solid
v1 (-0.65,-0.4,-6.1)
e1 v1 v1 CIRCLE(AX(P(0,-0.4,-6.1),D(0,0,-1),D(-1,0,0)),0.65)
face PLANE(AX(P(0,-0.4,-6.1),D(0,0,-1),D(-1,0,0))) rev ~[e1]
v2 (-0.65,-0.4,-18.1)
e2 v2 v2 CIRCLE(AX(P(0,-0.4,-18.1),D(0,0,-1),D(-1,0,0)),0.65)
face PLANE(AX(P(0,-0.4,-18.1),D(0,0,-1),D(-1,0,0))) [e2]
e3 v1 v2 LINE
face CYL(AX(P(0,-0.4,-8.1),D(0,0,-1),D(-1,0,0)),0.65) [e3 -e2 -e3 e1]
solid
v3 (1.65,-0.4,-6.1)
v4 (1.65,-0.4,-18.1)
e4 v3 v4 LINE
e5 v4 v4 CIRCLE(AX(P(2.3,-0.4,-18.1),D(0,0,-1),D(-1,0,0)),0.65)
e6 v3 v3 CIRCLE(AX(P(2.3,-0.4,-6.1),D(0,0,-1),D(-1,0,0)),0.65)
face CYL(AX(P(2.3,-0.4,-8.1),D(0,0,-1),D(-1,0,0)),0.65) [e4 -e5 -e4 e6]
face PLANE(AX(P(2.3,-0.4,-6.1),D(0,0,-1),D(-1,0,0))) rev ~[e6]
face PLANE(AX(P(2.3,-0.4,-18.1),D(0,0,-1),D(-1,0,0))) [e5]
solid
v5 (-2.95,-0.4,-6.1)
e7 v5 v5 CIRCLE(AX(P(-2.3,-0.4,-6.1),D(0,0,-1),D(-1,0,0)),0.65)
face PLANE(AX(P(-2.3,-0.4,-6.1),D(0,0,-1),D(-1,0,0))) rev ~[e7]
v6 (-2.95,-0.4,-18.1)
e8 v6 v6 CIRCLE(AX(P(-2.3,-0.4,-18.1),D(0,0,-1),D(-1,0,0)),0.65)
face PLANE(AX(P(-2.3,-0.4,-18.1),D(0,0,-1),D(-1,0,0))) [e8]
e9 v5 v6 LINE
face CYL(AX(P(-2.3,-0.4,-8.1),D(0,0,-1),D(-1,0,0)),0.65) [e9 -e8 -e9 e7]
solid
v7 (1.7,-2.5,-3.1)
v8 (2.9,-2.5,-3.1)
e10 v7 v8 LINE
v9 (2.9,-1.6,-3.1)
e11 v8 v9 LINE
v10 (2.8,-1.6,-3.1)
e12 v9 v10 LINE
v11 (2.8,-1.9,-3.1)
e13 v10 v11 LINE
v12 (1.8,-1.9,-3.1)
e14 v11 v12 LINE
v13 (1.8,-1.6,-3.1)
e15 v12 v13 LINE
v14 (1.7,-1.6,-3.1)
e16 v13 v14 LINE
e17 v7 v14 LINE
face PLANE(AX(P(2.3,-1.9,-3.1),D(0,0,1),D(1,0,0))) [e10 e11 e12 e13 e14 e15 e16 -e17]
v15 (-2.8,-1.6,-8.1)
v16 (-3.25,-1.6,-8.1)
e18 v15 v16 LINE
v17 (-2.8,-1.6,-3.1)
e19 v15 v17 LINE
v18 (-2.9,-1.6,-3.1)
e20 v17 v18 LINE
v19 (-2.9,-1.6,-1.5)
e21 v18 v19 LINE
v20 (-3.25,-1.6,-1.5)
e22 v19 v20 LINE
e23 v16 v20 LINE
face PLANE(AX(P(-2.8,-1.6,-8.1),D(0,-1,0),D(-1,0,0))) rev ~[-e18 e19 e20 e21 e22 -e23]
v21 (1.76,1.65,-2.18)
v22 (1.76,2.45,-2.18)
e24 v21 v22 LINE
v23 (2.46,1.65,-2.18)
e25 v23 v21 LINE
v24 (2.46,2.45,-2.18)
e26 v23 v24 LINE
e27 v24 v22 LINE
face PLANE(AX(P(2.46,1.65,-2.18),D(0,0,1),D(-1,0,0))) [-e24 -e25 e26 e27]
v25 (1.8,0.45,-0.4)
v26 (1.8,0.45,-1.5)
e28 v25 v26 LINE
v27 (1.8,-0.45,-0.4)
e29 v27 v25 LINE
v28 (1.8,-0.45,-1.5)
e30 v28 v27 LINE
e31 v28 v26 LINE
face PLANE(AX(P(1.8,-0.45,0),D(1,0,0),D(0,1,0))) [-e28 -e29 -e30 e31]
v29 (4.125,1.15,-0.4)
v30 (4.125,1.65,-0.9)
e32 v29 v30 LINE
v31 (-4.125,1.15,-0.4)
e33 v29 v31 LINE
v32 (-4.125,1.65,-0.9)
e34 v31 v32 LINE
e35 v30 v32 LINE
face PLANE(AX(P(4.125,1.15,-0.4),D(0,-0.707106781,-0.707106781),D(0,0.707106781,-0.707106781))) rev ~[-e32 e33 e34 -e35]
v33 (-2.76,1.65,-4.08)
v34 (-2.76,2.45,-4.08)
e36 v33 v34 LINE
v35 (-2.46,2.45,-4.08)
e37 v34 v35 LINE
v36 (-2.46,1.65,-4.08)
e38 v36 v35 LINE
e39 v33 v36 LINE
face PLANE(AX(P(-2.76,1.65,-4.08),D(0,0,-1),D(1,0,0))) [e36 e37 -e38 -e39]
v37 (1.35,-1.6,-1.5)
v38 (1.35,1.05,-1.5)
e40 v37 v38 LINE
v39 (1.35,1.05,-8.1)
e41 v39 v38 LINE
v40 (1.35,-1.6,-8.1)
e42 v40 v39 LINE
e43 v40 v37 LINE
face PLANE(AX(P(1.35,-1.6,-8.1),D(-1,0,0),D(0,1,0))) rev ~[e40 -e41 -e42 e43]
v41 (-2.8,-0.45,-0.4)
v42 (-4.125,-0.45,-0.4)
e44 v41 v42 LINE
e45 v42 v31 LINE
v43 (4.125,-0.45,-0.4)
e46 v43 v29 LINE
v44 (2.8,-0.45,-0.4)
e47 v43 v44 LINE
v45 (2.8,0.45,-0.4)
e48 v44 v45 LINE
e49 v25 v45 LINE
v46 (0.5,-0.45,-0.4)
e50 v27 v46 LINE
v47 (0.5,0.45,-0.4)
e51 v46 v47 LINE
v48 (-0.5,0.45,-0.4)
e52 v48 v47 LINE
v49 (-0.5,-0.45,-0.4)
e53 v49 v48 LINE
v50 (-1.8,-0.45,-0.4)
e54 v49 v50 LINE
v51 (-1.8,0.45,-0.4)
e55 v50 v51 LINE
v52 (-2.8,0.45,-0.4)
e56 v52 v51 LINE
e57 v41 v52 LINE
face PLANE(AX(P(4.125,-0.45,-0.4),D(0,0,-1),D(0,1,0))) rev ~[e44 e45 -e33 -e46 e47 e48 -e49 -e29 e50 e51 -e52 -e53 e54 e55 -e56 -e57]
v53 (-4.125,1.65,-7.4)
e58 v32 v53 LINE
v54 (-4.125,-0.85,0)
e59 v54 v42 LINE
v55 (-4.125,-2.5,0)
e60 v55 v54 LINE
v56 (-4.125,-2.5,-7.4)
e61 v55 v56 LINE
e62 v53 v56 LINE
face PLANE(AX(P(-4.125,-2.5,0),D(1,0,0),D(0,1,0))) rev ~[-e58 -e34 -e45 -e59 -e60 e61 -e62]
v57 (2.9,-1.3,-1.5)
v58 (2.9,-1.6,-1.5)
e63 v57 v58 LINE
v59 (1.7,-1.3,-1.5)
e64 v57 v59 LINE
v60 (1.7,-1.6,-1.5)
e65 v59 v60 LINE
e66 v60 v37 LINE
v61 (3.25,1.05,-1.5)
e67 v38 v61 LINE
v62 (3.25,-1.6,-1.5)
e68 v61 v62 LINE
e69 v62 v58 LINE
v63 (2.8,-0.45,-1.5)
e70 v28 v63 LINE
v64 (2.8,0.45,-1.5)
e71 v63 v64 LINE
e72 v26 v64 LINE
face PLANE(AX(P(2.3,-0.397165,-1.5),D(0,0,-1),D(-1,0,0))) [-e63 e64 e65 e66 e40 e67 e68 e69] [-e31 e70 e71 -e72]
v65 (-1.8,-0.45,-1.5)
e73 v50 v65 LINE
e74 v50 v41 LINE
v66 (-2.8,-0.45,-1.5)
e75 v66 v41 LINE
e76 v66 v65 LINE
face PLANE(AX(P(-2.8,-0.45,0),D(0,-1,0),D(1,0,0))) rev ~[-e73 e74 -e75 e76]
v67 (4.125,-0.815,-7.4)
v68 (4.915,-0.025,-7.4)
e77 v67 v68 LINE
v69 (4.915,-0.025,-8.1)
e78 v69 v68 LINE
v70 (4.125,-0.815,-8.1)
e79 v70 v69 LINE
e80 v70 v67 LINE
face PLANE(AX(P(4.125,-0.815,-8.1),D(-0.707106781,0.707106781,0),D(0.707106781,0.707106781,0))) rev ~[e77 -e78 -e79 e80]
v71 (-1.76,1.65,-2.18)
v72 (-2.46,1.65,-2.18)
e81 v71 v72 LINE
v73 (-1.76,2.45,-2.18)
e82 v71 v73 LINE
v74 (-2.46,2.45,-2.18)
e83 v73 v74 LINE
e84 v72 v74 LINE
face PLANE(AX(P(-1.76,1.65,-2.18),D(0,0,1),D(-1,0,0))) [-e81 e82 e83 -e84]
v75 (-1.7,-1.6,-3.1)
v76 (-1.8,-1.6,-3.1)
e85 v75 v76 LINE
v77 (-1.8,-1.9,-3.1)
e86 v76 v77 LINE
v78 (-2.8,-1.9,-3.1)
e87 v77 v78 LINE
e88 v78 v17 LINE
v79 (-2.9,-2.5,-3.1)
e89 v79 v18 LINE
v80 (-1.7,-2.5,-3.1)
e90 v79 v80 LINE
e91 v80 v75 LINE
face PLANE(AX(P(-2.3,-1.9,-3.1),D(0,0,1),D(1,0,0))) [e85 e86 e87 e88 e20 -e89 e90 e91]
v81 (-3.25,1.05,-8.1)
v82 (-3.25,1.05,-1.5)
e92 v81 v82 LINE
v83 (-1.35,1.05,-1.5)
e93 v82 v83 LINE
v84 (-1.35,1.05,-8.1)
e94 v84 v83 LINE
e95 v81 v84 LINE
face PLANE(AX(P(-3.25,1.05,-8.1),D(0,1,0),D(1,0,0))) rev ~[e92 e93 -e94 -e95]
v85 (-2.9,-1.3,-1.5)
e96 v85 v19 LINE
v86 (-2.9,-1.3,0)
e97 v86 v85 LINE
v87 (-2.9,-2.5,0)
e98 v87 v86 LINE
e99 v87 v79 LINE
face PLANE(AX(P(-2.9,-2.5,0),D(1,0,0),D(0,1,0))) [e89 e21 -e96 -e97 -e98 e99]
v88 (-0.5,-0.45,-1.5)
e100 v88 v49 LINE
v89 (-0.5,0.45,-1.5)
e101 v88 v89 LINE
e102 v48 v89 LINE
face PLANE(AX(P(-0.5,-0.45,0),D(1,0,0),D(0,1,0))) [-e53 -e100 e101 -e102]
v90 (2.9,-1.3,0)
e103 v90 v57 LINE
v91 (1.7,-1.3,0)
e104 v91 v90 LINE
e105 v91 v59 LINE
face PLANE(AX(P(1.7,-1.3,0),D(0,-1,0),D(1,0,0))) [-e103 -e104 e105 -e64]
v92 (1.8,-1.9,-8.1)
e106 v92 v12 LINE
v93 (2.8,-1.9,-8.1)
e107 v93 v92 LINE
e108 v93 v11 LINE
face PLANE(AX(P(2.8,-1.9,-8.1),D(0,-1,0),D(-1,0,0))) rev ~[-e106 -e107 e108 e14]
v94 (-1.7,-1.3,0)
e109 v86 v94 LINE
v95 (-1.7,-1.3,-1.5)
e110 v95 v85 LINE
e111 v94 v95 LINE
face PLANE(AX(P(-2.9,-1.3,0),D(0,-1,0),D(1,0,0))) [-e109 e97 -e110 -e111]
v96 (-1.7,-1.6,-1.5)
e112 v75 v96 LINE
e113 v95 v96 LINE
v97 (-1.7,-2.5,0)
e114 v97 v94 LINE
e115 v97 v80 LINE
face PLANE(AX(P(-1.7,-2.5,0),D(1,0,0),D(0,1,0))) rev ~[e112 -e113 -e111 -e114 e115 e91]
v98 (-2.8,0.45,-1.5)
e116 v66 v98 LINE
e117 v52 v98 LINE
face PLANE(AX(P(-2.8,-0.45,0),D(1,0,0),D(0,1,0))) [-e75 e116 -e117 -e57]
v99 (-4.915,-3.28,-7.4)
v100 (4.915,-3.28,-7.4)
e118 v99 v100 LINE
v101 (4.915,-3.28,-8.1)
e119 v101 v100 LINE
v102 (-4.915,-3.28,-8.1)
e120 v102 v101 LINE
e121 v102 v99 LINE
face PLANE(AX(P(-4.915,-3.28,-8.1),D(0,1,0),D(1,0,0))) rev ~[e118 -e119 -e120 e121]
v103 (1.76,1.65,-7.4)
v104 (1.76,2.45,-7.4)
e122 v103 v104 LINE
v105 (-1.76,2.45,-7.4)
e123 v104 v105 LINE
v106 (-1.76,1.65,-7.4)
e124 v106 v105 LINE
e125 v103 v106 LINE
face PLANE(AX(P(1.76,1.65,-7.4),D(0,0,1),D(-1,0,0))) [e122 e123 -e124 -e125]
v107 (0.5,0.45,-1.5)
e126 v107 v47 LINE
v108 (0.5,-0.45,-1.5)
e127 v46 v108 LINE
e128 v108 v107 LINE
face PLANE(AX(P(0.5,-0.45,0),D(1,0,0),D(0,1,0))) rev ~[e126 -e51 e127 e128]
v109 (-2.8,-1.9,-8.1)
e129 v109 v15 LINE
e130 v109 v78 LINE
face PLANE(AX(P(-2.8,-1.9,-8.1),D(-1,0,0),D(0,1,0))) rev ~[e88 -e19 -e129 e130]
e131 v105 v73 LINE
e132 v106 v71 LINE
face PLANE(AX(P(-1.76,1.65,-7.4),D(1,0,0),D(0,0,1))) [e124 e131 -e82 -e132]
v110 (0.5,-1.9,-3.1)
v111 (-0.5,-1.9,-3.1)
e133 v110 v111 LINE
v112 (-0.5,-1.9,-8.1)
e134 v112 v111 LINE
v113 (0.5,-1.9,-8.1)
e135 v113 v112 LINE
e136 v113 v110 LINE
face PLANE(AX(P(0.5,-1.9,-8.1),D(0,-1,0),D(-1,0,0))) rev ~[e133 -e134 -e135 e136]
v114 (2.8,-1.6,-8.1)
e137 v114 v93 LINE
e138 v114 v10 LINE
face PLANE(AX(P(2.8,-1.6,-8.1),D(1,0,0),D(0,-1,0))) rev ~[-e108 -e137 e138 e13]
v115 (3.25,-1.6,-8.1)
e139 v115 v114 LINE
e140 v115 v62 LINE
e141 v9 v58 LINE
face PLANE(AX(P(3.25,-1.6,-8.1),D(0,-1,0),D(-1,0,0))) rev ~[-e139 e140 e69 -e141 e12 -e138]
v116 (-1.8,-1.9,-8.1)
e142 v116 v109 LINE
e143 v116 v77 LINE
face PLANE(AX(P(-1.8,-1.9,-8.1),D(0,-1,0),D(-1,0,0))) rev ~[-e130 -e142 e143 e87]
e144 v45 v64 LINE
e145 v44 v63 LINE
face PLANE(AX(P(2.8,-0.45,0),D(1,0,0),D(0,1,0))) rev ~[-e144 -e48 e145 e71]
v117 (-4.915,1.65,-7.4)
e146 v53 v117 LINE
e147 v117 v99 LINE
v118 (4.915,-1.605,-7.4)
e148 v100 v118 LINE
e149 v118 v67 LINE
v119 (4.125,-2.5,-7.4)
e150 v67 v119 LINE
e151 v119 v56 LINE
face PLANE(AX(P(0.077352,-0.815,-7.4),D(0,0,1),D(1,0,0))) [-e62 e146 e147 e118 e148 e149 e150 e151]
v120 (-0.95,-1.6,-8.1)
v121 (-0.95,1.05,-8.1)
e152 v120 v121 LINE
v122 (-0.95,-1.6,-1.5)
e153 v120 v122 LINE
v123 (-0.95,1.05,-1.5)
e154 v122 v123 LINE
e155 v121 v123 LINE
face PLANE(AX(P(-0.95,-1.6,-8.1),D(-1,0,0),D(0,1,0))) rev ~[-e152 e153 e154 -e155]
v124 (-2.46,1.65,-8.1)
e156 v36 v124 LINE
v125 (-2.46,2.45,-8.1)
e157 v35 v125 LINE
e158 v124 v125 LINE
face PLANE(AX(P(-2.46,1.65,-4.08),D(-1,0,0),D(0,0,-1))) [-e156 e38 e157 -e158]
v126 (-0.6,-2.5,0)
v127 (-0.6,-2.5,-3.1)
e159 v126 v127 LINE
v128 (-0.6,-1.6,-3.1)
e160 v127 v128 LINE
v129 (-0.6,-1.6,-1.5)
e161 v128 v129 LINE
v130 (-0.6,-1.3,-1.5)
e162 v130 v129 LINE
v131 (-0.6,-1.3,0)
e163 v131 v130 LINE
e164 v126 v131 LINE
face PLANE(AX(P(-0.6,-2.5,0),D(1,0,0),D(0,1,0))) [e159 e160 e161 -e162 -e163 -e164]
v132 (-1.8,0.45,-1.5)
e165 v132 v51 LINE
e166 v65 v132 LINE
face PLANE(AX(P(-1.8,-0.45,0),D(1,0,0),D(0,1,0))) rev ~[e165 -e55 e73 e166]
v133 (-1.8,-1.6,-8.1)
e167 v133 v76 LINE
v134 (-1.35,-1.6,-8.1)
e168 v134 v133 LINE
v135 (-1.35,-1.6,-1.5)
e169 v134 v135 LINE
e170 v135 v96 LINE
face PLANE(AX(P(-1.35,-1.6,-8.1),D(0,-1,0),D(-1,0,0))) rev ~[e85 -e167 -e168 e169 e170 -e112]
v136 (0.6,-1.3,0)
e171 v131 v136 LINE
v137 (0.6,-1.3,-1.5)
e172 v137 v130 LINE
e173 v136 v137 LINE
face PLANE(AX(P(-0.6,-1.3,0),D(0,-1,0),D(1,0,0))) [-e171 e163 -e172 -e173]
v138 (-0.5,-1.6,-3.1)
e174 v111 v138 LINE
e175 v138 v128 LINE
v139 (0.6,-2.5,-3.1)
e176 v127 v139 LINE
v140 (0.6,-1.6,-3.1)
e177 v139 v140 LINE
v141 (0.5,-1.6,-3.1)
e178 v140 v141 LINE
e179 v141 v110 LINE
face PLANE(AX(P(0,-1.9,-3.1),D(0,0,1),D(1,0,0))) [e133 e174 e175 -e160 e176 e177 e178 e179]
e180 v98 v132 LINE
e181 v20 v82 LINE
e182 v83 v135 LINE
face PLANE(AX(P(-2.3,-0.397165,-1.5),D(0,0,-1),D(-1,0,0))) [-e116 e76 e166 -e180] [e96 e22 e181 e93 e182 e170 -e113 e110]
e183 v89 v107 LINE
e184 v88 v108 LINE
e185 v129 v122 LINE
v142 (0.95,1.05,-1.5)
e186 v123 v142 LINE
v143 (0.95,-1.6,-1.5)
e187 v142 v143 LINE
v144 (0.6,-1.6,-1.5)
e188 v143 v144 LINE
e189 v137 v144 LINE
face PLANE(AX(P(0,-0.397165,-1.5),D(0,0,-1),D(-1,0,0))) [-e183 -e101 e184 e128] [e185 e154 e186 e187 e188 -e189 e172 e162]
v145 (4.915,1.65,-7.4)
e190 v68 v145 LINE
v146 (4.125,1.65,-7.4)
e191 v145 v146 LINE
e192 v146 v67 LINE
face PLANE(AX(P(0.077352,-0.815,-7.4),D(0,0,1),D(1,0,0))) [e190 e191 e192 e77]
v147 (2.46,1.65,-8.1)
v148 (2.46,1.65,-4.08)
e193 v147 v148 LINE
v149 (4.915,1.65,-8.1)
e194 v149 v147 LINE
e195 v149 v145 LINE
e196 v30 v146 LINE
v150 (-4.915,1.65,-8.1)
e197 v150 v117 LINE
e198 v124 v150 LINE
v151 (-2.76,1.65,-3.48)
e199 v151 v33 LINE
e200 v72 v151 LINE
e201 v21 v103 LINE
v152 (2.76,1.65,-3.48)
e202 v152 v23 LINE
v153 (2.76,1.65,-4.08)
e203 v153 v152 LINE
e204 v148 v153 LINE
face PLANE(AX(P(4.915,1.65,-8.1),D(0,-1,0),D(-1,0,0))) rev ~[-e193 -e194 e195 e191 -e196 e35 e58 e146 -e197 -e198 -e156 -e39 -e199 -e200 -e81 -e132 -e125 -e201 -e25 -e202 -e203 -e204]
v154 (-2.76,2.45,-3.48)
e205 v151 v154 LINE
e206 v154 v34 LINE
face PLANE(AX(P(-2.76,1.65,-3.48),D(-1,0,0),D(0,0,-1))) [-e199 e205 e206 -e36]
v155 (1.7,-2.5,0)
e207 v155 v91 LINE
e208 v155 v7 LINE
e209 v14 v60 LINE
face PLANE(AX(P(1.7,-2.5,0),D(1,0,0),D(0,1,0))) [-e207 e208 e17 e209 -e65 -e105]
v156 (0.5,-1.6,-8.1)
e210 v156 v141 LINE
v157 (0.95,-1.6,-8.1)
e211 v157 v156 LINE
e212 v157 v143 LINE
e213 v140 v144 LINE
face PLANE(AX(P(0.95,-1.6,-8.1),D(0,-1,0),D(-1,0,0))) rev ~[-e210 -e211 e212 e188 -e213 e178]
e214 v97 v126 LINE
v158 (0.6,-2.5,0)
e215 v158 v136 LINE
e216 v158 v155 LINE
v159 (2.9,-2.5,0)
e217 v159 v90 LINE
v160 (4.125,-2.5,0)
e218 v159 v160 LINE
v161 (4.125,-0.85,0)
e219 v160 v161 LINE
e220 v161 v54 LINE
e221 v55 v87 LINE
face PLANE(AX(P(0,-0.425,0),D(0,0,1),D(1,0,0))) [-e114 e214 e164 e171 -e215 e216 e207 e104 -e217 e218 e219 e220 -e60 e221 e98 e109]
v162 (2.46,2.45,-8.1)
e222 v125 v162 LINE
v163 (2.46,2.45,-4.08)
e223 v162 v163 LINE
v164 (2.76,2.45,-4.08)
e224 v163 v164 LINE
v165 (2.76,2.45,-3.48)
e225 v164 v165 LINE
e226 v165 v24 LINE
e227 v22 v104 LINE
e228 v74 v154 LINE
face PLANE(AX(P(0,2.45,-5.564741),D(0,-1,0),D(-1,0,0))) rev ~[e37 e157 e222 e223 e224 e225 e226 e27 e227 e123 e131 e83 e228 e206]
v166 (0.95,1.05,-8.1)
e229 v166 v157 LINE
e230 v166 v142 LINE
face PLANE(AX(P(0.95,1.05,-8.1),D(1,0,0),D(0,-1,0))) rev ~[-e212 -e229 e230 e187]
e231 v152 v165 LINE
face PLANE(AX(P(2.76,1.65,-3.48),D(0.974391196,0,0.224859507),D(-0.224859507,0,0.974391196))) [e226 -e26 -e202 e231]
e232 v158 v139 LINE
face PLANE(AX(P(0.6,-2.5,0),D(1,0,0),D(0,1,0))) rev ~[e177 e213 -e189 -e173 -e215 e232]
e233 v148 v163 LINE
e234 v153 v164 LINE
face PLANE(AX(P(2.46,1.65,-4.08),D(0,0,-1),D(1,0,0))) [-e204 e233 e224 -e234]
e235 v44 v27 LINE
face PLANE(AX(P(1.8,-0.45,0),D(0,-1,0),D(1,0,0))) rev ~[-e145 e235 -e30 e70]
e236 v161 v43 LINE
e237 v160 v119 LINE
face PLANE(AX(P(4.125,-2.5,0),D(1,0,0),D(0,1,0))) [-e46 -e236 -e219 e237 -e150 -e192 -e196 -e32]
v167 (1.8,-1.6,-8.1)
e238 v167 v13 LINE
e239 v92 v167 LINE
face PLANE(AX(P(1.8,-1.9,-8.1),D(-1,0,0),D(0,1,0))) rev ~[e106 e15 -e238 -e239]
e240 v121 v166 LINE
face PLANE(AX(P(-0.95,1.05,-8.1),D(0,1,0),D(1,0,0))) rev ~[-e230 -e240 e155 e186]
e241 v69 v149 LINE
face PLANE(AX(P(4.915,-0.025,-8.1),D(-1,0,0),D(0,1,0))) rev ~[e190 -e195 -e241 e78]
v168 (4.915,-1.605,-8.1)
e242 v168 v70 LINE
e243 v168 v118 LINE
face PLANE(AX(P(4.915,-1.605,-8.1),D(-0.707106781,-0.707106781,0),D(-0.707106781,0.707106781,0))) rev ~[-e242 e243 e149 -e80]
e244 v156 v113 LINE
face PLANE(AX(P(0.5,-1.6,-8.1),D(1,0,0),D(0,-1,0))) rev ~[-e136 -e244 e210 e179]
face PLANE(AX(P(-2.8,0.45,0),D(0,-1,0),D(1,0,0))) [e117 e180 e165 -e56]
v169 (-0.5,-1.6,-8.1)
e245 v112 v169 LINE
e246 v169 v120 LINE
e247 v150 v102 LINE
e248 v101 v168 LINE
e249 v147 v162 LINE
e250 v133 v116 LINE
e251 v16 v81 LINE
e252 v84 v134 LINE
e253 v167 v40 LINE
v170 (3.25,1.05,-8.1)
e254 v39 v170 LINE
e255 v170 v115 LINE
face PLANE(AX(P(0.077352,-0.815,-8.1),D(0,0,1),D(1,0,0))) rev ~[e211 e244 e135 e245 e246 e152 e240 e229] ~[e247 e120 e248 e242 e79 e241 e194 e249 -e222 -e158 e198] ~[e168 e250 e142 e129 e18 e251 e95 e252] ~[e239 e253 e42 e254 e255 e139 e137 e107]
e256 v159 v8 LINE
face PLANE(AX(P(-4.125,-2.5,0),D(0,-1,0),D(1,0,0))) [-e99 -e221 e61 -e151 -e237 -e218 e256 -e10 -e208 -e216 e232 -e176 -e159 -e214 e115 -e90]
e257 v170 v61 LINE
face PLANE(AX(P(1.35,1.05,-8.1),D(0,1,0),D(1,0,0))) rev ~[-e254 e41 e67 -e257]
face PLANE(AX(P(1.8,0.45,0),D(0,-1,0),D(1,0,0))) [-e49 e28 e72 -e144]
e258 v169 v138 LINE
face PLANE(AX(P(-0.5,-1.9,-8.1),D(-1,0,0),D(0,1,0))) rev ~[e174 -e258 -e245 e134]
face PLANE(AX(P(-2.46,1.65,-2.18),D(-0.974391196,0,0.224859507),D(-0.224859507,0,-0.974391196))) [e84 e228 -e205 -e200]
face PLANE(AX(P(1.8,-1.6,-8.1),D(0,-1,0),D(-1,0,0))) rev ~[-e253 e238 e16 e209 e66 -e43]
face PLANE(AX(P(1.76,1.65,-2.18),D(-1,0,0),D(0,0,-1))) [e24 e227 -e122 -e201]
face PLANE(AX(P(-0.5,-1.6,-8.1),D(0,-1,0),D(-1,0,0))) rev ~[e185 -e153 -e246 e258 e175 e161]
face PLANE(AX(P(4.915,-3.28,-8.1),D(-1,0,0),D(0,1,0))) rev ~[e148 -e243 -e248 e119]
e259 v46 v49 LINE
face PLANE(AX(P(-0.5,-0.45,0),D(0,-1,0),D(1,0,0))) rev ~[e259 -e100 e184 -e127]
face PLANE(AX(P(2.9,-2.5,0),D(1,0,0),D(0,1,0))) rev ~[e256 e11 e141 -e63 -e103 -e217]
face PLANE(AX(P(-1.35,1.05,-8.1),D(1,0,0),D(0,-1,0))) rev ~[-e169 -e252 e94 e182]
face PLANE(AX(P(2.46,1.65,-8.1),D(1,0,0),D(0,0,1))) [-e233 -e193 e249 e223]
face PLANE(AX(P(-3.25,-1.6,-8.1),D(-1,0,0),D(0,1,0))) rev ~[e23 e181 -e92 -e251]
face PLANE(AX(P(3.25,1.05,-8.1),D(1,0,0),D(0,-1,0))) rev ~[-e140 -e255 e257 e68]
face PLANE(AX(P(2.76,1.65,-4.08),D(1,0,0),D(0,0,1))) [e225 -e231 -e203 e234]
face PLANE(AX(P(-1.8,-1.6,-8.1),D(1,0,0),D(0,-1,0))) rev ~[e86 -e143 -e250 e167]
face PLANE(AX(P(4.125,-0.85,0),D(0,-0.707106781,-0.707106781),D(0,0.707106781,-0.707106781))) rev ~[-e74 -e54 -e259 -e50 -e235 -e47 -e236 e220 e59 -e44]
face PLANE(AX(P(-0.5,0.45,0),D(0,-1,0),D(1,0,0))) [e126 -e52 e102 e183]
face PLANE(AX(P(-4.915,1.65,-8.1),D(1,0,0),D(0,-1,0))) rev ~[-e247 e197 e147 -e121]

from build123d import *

# Parameters (mm, degrees)
ESQUISSE1_W               = 8.25
ESQUISSE1_H               = 4.15
ESQUISSE1_W_2             = 1
ESQUISSE1_H_2             = 0.9
BOSS_EXTRU_1_DEPTH        = 8.1
ESQUISSE2_W               = 5.6
ESQUISSE2_H               = 0.9
BOSS_EXTRU_2_DEPTH        = 0.7
ENL_V_MAT_EXTRU_1_DEPTH   = 6.6
ENL_V_MAT_EXTRU_2_DEPTH   = 10.04
ESQUISSE6_W               = 1.2
ESQUISSE6_H               = 1.2
ENL_V_MAT_EXTRU_3_DEPTH   = 3.1
BOSS_EXTRU_3_DEPTH        = 0.8
ESQUISSE8_R               = 0.65
BOSS_EXTRU_4_DEPTH        = 10
BOSS_EXTRU_4_DEPTH_BACK   = 2
BOSS_EXTRU_4_2_DEPTH      = 10
BOSS_EXTRU_4_2_DEPTH_BACK = 2
BOSS_EXTRU_4_3_DEPTH      = 10
BOSS_EXTRU_4_3_DEPTH_BACK = 2


with BuildPart() as part:
    # Esquisse1 → Boss.-Extru.1 (new body)
    with BuildSketch(Plane.XY):
        with Locations((0, -0.425)):
            Rectangle(ESQUISSE1_W, ESQUISSE1_H)
        Rectangle(ESQUISSE1_W_2, ESQUISSE1_H_2, mode=Mode.SUBTRACT)
        with Locations((-2.3, 0)):
            Rectangle(ESQUISSE1_W_2, ESQUISSE1_H_2, mode=Mode.SUBTRACT)
        with Locations((2.3, 0)):
            Rectangle(ESQUISSE1_W_2, ESQUISSE1_H_2, mode=Mode.SUBTRACT)
    extrude(amount=-BOSS_EXTRU_1_DEPTH)

    # Esquisse2 → Boss.-Extru.2 (add)
    with BuildSketch(Plane(origin=(0, 0, -8.1), x_dir=(-1, 0, 0), z_dir=(0, 0, -1))):
        Polygon((-4.915, 1.65), (4.915, 1.65), (4.915, -3.28), (-4.915, -3.28), (-4.915, -1.605), (-4.125, -0.815), (-4.915, -0.025), align=None)
        Rectangle(ESQUISSE2_W, ESQUISSE2_H, mode=Mode.SUBTRACT)
    extrude(amount=-BOSS_EXTRU_2_DEPTH)

    # Esquisse3 → Enlèv. mat.-Extru.1 (cut)
    with BuildSketch(Plane(origin=(0, 0, -8.1), x_dir=(-1, 0, 0), z_dir=(0, 0, -1))):
        Polygon((0.5, -1.6), (0.95, -1.6), (0.95, 1.05), (-0.95, 1.05), (-0.95, -1.6), (-0.5, -1.6), (-0.5, -1.9), (0.5, -1.9), align=None)
        Polygon((-1.8, -1.6), (-1.35, -1.6), (-1.35, 1.05), (-3.25, 1.05), (-3.25, -1.6), (-2.8, -1.6), (-2.8, -1.9), (-1.8, -1.9), align=None)
        Polygon((2.8, -1.6), (3.25, -1.6), (3.25, 1.05), (1.35, 1.05), (1.35, -1.6), (1.8, -1.6), (1.8, -1.9), (2.8, -1.9), align=None)
    extrude(amount=-ENL_V_MAT_EXTRU_1_DEPTH, mode=Mode.SUBTRACT)

    # Esquisse4 → Enlèv. mat.-Extru.2 (cut, through all)
    with BuildSketch(Plane(origin=(4.125, 0, 0), x_dir=(0, 0, -1), z_dir=(1, 0, 0))):
        Polygon((0, -0.85), (0.4, -0.45), (0.4, 1.15), (0.9, 1.65), (0, 1.65), align=None)
    extrude(amount=-ENL_V_MAT_EXTRU_2_DEPTH, mode=Mode.SUBTRACT)

    # Esquisse6 → Enlèv. mat.-Extru.3 (cut)
    with BuildSketch(Plane.XY):
        with Locations((-2.3, -1.9)):
            Rectangle(ESQUISSE6_W, ESQUISSE6_H)
        with Locations((0, -1.9)):
            Rectangle(ESQUISSE6_W, ESQUISSE6_H)
        with Locations((2.3, -1.9)):
            Rectangle(ESQUISSE6_W, ESQUISSE6_H)
    extrude(amount=-ENL_V_MAT_EXTRU_3_DEPTH, mode=Mode.SUBTRACT)

    # Esquisse7 → Boss.-Extru.3 (add)
    with BuildSketch(Plane(origin=(0, 1.65, 0), x_dir=(1, 0, 0), z_dir=(0, 1, 0))):
        Polygon((-2.46, 8.1), (2.46, 8.1), (2.46, 4.08), (2.76, 4.08), (2.76, 3.48), (2.46, 2.18), (1.76, 2.18), (1.76, 7.4), (-1.76, 7.4), (-1.76, 2.18), (-2.46, 2.18), (-2.76, 3.48), (-2.76, 4.08), (-2.46, 4.08), align=None)
    extrude(amount=BOSS_EXTRU_3_DEPTH)


with BuildPart() as body_2:
    # Esquisse8 → Boss.-Extru.4 (new body, two sides)
    with BuildSketch(Plane(origin=(0, 0, -8.1), x_dir=(-1, 0, 0), z_dir=(0, 0, -1))) as boss_extru_4_sk:
        with Locations((0, -0.4)):
            Circle(ESQUISSE8_R)
    extrude(amount=BOSS_EXTRU_4_DEPTH)
    extrude(boss_extru_4_sk.sketch, amount=-BOSS_EXTRU_4_DEPTH_BACK)


with BuildPart() as body_3:
    # Esquisse8 → Boss.-Extru.4 2 (new body, two sides)
    with BuildSketch(Plane(origin=(0, 0, -8.1), x_dir=(-1, 0, 0), z_dir=(0, 0, -1))) as boss_extru_4_2_sk:
        with Locations((-2.3, -0.4)):
            Circle(ESQUISSE8_R)
    extrude(amount=BOSS_EXTRU_4_2_DEPTH)
    extrude(boss_extru_4_2_sk.sketch, amount=-BOSS_EXTRU_4_2_DEPTH_BACK)


with BuildPart() as body_4:
    # Esquisse8 → Boss.-Extru.4 3 (new body, two sides)
    with BuildSketch(Plane(origin=(0, 0, -8.1), x_dir=(-1, 0, 0), z_dir=(0, 0, -1))) as boss_extru_4_3_sk:
        with Locations((2.3, -0.4)):
            Circle(ESQUISSE8_R)
    extrude(amount=BOSS_EXTRU_4_3_DEPTH)
    extrude(boss_extru_4_3_sk.sketch, amount=-BOSS_EXTRU_4_3_DEPTH_BACK)


solid = Compound([part.part, body_2.part, body_3.part, body_4.part])
